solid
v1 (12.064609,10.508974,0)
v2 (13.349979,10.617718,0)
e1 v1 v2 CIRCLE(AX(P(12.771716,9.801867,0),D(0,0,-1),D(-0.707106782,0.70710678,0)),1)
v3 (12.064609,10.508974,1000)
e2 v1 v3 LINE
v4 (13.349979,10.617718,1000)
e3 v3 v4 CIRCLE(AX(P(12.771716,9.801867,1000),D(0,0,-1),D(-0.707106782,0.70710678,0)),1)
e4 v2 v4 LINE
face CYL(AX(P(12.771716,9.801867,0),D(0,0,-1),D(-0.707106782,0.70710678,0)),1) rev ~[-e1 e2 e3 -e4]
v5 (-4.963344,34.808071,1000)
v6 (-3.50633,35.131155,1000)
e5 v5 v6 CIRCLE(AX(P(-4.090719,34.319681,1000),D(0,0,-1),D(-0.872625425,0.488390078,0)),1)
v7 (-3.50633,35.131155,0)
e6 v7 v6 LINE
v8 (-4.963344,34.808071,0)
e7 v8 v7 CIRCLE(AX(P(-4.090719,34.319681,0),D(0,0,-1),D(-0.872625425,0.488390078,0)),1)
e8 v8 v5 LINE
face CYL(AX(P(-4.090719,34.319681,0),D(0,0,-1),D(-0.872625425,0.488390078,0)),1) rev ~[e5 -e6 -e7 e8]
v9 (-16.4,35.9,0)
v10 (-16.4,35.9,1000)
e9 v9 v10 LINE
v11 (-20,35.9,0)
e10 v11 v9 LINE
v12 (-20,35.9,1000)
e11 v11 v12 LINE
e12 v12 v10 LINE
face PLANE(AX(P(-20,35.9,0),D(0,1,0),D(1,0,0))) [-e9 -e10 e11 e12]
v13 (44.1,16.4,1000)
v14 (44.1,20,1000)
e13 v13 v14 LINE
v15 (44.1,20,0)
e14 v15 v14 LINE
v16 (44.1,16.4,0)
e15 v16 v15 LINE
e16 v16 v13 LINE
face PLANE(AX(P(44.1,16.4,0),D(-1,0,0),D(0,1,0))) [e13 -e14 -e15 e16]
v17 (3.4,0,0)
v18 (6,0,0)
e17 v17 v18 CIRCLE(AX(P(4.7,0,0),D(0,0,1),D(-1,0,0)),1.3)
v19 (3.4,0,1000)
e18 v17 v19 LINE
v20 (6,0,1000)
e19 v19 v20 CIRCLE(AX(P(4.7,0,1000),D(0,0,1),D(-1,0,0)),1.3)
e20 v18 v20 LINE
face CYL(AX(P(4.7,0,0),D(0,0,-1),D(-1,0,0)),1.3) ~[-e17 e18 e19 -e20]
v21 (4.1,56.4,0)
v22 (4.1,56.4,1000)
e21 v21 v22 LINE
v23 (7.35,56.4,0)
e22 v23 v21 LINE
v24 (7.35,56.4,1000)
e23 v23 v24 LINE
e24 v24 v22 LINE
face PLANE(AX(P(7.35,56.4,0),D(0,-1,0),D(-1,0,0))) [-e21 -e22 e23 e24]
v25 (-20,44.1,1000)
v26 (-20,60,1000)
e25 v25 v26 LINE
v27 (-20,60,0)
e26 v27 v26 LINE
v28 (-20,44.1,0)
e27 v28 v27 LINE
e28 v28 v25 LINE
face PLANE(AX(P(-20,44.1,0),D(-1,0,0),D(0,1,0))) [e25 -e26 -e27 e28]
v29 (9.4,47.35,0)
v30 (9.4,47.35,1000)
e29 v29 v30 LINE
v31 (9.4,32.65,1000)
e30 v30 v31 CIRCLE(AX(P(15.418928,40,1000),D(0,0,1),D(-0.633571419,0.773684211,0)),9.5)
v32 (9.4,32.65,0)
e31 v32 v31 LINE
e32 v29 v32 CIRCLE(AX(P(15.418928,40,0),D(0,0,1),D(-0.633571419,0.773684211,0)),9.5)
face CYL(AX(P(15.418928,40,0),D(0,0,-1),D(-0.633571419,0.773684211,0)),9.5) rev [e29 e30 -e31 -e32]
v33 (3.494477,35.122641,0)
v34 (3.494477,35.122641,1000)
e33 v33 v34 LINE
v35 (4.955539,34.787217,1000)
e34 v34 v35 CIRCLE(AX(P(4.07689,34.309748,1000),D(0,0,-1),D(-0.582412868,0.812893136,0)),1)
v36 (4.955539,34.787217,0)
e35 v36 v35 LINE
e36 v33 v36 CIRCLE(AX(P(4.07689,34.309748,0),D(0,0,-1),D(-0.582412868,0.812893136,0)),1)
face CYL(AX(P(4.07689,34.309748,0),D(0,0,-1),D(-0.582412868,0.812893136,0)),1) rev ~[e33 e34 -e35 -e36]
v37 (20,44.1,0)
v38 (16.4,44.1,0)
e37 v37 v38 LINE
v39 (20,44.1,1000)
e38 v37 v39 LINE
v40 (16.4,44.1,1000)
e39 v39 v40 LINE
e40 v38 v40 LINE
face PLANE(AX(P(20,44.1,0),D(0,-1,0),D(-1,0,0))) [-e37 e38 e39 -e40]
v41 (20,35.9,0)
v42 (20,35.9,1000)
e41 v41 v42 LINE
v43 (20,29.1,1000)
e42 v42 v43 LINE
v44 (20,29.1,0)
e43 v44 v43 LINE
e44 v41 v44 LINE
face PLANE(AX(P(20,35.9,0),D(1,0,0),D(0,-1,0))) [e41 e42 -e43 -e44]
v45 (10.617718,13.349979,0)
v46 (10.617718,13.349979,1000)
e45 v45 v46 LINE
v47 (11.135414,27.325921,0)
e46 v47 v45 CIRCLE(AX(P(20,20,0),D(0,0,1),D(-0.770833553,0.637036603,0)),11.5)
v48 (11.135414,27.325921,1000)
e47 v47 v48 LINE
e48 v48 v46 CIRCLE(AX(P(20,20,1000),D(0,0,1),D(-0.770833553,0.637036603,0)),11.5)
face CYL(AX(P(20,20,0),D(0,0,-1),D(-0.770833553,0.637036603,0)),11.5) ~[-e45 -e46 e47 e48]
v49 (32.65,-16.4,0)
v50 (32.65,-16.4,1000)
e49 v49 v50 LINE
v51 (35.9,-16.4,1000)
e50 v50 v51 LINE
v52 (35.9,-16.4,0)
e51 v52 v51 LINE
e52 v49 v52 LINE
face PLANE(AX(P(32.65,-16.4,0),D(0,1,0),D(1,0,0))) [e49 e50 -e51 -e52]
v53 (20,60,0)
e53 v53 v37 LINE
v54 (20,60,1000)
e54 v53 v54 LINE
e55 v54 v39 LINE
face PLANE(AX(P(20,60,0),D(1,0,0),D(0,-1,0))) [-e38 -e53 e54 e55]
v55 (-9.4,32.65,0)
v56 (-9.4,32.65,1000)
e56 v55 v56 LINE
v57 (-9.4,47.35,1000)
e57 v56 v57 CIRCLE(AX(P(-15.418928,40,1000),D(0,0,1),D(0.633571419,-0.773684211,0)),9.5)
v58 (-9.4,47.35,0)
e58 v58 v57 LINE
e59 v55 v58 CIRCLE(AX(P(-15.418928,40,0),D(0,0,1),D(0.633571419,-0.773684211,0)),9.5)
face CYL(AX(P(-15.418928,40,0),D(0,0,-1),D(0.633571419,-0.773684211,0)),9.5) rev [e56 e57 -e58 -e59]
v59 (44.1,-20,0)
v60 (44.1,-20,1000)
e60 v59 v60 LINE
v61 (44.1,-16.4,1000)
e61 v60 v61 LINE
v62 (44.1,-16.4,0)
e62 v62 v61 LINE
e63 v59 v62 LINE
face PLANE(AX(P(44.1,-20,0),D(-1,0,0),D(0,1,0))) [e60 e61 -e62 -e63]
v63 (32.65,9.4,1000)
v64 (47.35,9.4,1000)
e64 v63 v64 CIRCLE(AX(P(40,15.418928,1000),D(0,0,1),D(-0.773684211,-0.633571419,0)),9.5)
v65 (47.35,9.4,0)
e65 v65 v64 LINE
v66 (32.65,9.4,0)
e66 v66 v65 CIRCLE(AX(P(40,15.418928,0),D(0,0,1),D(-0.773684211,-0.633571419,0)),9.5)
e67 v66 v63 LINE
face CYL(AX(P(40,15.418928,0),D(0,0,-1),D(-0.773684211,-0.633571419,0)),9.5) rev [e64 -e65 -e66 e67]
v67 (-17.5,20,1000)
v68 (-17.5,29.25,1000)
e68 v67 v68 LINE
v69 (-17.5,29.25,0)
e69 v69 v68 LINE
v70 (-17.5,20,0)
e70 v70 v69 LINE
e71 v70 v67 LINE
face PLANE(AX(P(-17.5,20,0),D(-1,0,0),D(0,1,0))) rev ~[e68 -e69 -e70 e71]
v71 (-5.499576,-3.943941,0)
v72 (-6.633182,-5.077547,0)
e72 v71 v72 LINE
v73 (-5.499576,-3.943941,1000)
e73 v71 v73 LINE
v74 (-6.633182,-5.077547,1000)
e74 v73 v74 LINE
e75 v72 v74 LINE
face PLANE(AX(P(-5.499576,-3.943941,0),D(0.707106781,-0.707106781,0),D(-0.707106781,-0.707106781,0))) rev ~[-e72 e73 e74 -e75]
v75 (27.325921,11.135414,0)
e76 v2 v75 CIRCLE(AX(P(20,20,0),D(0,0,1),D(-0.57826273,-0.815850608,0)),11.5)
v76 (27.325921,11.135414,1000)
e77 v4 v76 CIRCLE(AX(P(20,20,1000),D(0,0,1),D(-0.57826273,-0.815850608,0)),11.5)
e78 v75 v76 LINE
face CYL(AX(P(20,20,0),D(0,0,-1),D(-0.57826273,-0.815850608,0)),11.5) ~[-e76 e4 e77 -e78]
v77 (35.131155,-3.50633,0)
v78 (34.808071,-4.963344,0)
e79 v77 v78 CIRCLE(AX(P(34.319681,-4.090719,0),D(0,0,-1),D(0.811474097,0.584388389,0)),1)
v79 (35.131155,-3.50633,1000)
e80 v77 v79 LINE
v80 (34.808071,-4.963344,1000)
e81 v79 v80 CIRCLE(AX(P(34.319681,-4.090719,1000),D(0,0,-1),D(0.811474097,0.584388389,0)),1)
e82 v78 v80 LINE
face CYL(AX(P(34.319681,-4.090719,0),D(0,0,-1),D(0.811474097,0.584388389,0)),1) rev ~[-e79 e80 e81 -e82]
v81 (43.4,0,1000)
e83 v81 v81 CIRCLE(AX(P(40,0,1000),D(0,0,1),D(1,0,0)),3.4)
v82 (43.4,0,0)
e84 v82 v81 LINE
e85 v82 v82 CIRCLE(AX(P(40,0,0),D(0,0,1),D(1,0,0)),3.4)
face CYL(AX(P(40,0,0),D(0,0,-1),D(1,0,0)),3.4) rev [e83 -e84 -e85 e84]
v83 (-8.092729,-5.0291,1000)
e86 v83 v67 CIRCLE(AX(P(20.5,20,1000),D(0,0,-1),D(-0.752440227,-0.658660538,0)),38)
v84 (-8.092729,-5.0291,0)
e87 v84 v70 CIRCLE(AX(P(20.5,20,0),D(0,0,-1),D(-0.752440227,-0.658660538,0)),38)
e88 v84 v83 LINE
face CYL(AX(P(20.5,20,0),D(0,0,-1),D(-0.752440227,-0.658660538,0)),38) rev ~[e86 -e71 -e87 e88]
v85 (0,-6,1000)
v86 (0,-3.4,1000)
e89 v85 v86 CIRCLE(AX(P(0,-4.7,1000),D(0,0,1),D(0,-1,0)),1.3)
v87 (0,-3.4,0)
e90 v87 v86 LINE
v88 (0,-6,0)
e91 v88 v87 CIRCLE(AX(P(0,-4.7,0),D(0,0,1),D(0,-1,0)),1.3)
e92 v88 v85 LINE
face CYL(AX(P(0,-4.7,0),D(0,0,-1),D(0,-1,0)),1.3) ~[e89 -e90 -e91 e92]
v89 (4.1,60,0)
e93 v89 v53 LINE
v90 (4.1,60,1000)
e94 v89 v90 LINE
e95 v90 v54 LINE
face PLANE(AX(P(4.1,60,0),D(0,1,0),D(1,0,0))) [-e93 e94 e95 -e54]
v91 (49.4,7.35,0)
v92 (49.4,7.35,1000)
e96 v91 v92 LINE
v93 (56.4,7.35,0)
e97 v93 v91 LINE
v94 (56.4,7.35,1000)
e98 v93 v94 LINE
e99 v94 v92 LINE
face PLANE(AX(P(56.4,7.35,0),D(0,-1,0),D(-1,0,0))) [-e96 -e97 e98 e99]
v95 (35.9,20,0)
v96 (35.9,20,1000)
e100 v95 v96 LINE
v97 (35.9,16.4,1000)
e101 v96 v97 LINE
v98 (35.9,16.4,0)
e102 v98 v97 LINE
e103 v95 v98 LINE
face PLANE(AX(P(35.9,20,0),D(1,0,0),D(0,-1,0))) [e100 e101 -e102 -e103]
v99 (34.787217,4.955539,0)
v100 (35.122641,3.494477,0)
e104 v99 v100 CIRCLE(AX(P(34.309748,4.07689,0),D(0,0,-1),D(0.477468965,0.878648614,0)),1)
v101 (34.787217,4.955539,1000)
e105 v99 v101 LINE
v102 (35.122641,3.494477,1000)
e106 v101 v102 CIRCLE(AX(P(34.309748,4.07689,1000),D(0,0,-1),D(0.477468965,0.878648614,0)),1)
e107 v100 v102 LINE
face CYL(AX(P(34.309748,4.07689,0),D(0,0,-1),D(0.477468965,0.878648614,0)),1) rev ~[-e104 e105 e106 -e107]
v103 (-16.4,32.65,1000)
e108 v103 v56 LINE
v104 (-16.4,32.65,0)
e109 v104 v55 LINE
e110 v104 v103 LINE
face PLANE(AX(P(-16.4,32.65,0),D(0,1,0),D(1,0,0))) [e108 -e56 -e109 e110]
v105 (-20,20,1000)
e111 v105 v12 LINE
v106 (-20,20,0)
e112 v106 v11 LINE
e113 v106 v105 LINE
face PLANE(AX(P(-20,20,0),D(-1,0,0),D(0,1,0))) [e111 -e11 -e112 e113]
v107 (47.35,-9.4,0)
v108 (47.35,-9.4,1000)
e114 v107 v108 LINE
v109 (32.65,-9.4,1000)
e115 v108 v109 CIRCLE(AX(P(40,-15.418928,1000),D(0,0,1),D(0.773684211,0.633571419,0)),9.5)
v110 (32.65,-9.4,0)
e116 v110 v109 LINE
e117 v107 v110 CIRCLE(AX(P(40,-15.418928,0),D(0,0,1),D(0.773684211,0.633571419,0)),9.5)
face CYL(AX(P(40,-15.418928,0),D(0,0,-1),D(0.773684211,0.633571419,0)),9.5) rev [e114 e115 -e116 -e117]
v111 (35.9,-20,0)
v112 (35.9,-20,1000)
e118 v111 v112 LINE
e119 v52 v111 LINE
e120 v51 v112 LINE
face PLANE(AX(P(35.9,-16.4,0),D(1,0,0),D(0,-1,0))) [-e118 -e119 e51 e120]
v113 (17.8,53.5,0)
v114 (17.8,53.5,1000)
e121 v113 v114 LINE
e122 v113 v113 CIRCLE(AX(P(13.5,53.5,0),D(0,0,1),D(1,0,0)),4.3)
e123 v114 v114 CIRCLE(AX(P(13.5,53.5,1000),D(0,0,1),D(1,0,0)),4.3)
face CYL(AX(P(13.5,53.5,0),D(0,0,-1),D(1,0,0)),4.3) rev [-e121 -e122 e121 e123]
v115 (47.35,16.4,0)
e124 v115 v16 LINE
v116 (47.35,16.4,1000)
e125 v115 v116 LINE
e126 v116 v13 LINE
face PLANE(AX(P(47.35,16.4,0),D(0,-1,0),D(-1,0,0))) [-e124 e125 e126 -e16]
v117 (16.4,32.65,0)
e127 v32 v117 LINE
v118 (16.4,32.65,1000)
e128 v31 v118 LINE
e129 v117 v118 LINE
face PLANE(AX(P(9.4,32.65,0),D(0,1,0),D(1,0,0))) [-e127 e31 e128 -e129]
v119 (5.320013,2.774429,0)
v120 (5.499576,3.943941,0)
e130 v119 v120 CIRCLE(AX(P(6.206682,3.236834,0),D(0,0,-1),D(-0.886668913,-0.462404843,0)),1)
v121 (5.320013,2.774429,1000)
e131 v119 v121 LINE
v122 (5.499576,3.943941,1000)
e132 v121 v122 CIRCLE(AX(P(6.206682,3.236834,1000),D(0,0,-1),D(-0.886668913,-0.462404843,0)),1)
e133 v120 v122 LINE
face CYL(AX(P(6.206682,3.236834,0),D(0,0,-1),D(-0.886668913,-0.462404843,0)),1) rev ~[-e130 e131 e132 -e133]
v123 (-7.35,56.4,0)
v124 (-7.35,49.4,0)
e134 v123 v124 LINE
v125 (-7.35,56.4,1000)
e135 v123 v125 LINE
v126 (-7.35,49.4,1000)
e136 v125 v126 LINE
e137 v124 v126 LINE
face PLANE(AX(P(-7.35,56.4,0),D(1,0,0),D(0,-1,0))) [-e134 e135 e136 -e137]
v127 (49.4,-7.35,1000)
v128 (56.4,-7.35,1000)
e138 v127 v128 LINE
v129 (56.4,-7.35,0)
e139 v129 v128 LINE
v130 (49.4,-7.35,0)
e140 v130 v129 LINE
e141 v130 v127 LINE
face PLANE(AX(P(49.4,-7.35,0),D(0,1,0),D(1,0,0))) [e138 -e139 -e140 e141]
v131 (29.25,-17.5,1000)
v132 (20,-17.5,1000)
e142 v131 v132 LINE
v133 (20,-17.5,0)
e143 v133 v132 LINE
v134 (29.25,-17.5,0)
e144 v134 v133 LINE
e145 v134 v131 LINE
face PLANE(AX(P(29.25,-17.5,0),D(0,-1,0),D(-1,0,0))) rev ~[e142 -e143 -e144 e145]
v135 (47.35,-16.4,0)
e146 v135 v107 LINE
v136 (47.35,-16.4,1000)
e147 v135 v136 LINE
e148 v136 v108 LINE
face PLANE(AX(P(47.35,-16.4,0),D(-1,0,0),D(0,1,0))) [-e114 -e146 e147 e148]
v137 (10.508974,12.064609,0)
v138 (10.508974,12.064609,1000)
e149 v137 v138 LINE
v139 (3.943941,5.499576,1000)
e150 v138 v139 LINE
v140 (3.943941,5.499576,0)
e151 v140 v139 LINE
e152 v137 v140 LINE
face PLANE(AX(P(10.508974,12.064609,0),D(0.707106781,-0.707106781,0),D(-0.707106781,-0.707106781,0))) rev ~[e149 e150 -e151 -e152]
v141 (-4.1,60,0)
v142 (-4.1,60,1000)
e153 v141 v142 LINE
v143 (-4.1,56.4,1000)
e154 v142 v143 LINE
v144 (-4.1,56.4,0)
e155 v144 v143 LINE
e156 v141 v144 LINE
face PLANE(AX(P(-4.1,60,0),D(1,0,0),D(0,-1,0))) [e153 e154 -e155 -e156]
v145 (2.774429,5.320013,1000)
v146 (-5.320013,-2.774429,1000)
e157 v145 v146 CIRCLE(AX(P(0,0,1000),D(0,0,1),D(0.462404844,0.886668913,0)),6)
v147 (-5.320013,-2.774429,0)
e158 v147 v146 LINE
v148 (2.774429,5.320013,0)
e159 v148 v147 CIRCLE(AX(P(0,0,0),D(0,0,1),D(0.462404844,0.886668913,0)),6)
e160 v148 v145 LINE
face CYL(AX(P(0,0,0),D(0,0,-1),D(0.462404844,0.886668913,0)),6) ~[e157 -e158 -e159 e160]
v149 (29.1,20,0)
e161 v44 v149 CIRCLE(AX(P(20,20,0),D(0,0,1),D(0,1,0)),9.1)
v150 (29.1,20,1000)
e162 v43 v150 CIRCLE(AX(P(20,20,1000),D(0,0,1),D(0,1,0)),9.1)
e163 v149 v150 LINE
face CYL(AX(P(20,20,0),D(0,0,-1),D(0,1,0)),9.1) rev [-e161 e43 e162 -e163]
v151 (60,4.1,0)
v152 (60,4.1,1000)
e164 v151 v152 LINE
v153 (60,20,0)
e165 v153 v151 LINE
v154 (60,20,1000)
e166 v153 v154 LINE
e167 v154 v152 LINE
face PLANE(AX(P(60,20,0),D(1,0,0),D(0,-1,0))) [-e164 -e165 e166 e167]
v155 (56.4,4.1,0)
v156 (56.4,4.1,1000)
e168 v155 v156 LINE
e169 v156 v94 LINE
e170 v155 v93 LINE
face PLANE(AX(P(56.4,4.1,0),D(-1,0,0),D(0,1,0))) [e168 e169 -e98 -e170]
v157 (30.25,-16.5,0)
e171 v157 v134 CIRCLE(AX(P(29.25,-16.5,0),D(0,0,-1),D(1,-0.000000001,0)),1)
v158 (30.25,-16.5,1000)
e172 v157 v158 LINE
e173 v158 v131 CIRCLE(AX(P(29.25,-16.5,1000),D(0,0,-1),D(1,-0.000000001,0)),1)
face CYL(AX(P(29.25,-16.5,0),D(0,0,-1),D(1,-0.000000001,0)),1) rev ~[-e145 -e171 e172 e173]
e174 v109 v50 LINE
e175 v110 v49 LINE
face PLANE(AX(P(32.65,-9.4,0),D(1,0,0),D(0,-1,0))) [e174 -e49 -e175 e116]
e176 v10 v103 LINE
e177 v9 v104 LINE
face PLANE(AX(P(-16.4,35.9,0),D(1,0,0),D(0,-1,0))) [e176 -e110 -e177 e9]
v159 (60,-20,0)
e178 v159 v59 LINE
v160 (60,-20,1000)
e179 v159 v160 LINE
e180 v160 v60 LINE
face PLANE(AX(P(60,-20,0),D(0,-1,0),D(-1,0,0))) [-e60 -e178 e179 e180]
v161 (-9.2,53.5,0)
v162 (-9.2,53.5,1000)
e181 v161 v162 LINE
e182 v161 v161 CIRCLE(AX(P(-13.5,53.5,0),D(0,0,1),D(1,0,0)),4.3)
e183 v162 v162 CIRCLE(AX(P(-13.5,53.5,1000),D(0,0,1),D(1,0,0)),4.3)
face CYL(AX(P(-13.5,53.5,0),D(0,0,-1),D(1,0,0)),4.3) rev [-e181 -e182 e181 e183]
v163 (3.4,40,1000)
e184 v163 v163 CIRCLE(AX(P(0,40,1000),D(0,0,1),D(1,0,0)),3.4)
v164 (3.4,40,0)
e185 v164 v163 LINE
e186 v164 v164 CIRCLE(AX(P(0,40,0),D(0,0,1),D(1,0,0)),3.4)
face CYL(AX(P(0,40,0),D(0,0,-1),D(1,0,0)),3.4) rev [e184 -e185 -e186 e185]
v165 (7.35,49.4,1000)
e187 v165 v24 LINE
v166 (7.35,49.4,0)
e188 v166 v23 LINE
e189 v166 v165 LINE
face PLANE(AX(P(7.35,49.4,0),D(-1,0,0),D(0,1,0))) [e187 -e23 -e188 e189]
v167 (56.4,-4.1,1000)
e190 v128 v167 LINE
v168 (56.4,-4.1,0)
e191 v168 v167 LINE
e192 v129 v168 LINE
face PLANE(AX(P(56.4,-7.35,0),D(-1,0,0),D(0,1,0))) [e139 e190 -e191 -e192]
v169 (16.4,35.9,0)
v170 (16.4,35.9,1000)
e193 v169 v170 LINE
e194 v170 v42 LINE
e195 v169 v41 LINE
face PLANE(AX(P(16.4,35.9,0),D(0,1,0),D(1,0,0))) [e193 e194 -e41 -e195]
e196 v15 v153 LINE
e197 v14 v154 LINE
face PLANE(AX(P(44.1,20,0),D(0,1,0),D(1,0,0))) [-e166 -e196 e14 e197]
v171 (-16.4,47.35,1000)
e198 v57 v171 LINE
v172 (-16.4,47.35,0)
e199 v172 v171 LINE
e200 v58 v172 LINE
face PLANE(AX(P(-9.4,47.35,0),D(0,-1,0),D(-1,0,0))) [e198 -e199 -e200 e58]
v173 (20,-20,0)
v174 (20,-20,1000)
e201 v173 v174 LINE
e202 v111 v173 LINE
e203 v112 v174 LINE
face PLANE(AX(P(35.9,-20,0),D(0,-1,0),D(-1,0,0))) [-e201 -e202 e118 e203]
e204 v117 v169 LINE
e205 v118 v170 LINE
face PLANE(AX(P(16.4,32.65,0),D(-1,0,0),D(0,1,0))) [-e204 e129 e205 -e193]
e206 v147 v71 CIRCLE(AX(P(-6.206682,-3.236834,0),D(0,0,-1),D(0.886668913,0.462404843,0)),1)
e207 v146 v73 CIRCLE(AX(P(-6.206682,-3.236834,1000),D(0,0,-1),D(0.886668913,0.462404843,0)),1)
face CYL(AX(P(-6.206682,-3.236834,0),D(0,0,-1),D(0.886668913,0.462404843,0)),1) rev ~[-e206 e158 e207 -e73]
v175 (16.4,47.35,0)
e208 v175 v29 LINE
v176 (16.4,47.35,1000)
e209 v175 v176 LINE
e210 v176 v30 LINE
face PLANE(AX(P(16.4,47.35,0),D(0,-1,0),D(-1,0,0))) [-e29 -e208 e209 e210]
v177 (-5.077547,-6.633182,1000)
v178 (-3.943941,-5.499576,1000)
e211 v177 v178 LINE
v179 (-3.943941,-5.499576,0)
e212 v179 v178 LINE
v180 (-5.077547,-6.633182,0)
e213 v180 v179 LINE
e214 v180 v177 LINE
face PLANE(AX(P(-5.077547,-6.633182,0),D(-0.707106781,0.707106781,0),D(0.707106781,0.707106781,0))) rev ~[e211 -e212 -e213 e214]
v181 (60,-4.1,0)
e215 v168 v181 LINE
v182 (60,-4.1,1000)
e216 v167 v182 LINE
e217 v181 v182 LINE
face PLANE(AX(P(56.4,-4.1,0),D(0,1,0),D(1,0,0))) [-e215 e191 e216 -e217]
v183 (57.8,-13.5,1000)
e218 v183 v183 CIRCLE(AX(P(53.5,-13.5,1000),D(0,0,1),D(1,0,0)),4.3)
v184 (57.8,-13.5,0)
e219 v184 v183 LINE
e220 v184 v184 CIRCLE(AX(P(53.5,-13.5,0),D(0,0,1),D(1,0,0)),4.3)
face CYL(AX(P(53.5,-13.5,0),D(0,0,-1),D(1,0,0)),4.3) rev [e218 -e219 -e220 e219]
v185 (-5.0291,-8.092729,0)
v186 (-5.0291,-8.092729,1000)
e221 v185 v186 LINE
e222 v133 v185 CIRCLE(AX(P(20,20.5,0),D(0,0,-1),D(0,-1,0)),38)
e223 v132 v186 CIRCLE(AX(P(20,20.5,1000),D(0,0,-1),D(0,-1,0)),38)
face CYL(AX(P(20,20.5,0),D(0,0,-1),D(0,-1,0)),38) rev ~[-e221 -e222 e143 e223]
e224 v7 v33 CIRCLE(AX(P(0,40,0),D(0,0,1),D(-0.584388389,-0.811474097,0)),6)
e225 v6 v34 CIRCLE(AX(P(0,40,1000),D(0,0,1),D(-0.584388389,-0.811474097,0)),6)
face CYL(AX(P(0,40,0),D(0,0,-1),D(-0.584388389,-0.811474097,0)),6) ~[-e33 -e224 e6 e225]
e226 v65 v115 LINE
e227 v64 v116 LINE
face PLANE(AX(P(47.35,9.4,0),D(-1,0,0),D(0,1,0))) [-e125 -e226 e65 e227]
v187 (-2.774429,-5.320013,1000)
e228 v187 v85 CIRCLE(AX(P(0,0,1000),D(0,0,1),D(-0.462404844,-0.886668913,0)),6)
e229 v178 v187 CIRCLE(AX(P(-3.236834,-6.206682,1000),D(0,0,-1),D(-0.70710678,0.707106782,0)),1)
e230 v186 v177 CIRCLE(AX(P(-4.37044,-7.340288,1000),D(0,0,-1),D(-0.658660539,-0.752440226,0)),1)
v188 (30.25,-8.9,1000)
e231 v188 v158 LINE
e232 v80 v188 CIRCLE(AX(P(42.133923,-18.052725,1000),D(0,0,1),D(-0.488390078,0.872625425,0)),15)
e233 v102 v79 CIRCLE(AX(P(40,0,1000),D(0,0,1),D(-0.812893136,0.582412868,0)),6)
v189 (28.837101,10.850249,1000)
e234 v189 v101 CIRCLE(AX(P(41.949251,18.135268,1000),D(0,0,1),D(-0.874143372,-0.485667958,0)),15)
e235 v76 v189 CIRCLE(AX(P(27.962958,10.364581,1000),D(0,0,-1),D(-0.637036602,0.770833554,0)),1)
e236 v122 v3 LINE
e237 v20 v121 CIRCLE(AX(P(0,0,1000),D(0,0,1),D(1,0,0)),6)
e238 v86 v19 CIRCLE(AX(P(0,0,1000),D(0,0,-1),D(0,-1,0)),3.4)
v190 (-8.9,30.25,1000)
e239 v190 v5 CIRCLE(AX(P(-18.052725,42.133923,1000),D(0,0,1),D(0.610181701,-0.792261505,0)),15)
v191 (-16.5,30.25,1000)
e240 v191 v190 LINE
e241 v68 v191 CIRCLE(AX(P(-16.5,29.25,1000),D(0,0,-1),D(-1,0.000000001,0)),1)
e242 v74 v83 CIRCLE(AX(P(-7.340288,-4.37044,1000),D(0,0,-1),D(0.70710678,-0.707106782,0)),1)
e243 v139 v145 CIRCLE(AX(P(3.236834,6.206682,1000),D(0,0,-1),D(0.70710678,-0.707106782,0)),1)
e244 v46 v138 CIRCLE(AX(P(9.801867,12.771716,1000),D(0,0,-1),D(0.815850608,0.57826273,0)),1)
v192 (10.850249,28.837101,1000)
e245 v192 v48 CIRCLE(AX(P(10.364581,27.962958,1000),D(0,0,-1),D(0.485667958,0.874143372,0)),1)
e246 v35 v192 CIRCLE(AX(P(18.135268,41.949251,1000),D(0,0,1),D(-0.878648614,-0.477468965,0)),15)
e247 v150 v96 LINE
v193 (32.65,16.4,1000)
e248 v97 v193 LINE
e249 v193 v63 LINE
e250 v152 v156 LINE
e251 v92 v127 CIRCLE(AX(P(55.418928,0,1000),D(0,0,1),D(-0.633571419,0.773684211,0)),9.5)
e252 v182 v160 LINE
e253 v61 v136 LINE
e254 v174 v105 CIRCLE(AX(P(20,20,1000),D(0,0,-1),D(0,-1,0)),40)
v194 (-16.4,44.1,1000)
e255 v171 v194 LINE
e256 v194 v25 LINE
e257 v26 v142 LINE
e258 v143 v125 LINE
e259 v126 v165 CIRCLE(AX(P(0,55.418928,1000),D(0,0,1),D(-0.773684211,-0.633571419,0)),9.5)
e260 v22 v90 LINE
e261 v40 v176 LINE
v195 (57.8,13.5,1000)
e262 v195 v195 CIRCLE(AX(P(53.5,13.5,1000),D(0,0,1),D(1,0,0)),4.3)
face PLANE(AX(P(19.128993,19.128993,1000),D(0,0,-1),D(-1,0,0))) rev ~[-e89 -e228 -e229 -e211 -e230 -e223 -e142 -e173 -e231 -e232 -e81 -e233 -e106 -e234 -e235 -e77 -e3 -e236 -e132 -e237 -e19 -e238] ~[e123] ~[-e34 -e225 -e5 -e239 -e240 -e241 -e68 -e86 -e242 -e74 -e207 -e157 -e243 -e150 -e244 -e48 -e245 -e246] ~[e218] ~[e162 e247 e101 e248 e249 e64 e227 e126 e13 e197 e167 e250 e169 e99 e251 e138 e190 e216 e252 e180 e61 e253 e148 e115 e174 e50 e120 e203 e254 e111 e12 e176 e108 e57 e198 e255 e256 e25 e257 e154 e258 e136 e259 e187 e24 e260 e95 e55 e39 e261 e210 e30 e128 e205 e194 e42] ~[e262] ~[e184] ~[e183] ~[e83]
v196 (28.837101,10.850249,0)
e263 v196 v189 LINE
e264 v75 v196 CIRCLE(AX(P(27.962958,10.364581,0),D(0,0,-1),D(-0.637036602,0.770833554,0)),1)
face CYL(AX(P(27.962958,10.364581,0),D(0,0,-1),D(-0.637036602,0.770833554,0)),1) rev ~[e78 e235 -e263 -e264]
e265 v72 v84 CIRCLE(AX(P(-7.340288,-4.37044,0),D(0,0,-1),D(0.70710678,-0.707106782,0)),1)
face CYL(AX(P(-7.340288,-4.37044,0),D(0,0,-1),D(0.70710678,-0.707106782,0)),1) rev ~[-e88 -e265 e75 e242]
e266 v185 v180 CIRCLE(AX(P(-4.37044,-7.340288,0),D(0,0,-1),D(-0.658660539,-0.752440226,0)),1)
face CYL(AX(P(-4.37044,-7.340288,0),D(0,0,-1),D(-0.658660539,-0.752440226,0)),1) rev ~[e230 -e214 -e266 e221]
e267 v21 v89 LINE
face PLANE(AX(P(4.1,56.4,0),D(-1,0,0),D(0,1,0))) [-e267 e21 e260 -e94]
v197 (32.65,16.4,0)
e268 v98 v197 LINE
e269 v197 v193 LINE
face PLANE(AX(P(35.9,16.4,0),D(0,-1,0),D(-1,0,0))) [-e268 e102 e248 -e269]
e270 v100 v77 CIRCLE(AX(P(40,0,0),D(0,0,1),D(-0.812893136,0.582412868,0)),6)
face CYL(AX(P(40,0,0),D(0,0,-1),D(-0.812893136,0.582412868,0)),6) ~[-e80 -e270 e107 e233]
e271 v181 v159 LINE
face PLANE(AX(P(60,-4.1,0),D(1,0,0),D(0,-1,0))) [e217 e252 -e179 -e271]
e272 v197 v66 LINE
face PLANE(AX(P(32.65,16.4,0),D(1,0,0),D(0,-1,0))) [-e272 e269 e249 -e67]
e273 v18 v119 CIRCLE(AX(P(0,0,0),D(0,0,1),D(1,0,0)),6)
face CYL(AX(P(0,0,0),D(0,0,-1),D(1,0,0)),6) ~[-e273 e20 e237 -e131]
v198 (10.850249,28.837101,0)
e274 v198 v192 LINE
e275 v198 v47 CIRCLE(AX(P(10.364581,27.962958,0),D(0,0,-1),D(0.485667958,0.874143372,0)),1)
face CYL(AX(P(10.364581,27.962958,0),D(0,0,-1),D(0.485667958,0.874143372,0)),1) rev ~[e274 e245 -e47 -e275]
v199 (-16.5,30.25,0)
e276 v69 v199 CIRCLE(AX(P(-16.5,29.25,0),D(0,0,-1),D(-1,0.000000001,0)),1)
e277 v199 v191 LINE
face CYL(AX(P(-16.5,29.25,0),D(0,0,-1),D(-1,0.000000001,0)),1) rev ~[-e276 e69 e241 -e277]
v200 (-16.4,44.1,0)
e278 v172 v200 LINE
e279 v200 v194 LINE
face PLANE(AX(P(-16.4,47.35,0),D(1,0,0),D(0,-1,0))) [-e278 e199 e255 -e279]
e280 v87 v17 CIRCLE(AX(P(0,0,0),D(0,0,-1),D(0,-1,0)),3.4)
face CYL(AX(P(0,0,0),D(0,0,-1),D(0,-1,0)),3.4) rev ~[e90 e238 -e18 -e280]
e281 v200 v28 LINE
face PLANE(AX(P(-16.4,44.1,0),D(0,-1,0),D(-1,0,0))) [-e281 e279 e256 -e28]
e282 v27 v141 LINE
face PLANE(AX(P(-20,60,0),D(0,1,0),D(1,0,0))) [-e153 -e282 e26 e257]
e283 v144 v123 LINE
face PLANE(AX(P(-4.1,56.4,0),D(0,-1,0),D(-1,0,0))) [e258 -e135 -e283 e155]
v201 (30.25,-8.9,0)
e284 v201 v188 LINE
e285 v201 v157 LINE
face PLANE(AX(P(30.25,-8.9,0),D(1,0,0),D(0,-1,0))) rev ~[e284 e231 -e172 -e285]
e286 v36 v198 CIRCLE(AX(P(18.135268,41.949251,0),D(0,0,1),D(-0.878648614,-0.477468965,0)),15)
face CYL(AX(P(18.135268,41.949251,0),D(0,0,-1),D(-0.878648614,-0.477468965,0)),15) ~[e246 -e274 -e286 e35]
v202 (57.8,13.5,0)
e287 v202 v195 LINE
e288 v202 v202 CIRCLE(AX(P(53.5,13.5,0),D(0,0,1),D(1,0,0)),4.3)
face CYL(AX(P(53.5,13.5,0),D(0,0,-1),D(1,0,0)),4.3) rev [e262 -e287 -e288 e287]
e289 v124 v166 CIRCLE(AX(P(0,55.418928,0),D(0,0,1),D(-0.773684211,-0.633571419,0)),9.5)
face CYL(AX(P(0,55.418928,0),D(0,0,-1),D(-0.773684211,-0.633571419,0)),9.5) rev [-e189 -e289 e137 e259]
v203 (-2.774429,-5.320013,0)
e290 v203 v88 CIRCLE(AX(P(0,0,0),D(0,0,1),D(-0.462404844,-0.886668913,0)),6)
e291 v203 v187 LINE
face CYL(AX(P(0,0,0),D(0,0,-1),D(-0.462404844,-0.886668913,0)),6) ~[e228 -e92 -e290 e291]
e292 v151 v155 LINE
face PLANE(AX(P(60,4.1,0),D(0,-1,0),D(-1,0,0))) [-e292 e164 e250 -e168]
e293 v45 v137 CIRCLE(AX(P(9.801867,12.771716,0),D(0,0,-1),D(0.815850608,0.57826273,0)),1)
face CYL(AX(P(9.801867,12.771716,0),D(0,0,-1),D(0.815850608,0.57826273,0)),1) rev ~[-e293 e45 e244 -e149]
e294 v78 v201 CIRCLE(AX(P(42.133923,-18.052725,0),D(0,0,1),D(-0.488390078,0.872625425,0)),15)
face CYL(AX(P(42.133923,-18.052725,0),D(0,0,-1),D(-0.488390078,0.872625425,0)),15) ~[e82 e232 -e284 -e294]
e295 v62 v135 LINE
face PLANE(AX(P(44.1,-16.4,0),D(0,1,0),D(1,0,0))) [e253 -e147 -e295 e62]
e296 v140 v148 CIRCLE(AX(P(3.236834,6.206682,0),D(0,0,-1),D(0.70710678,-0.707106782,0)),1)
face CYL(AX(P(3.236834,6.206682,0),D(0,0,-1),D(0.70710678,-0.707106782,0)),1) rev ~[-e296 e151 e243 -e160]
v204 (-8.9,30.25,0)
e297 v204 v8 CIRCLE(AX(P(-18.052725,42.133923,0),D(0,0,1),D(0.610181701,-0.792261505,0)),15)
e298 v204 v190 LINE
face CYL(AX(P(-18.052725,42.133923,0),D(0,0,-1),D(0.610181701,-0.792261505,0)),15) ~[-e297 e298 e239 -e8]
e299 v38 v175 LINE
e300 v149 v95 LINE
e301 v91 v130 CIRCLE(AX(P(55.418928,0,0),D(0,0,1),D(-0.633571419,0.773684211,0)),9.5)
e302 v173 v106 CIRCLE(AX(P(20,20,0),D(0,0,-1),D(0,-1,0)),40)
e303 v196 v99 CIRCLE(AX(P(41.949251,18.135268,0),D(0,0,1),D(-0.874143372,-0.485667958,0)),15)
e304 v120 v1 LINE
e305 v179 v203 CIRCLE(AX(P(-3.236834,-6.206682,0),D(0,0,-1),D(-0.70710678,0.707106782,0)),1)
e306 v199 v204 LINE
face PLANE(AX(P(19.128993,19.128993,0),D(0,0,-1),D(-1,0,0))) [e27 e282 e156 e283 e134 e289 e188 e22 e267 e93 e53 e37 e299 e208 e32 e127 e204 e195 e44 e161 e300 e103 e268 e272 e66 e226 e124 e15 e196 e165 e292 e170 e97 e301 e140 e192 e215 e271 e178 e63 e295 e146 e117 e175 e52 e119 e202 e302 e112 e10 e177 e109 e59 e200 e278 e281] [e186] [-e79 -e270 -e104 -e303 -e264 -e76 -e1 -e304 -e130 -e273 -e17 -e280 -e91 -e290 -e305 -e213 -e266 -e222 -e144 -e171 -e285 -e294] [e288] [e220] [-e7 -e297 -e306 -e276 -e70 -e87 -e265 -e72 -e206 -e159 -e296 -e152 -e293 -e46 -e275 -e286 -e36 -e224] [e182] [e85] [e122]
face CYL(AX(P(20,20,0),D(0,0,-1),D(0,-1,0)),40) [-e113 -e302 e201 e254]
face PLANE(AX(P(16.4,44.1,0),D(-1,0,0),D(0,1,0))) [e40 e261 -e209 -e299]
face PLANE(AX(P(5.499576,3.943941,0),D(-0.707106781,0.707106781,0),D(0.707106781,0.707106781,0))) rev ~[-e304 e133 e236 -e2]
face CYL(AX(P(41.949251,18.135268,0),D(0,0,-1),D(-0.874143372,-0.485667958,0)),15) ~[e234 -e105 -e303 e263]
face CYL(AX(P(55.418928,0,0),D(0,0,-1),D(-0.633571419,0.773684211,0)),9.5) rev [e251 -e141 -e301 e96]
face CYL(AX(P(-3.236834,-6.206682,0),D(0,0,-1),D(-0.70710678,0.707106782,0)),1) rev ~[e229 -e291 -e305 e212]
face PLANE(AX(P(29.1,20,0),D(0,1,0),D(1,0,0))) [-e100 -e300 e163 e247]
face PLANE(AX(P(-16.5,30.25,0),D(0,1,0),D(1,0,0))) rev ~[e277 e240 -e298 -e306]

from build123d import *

# Parameters (mm, degrees)
SKETCH_1_R      = 3.4
SKETCH_1_R_2    = 4.3
EXTRUDE_1_DEPTH = 1000


with BuildPart() as part:
    # Эскиз1 → Бобышка-Вытянуть1 (new body)
    with BuildSketch(Plane.XY):
        with BuildLine():
            Line((-20, 47.35), (-20, 60))
            Line((-20, 60), (-7.35, 60))
            Line((-7.35, 60), (-4.1, 60))
            Line((-4.1, 60), (-4.1, 56.4))
            Line((-4.1, 56.4), (-7.35, 56.4))
            Line((-7.35, 56.4), (-7.35, 49.4))
            ThreePointArc((-7.35, 49.4), (0, 45.918928476), (7.35, 49.4))
            Line((7.35, 49.4), (7.35, 56.4))
            Line((7.35, 56.4), (4.1, 56.4))
            Line((4.1, 56.4), (4.1, 60))
            Line((4.1, 60), (7.35, 60))
            Line((7.35, 60), (20, 60))
            Line((20, 60), (20, 47.35))
            Line((20, 47.35), (20, 44.1))
            Line((20, 44.1), (16.4, 44.1))
            Line((16.4, 44.1), (16.4, 47.35))
            Line((16.4, 47.35), (9.4, 47.35))
            ThreePointArc((9.4, 47.35), (5.918928476, 40), (9.4, 32.65))
            Line((9.4, 32.65), (16.4, 32.65))
            Line((16.4, 32.65), (16.4, 35.9))
            Line((16.4, 35.9), (20, 35.9))
            Line((20, 35.9), (20, 32.65))
            Line((20, 32.65), (20, 29.1))
            ThreePointArc((20, 29.1), (13.565328291, 13.565328291), (29.1, 20))
            Line((29.1, 20), (32.65, 20))
            Line((32.65, 20), (35.9, 20))
            Line((35.9, 20), (35.9, 16.4))
            Line((35.9, 16.4), (32.65, 16.4))
            Line((32.65, 16.4), (32.65, 9.4))
            ThreePointArc((32.65, 9.4), (40, 5.918928476), (47.35, 9.4))
            Line((47.35, 9.4), (47.35, 16.4))
            Line((47.35, 16.4), (44.1, 16.4))
            Line((44.1, 16.4), (44.1, 20))
            Line((44.1, 20), (47.35, 20))
            Line((47.35, 20), (60, 20))
            Line((60, 20), (60, 7.35))
            Line((60, 7.35), (60, 4.1))
            Line((60, 4.1), (56.4, 4.1))
            Line((56.4, 4.1), (56.4, 7.35))
            Line((56.4, 7.35), (49.4, 7.35))
            ThreePointArc((49.4, 7.35), (45.918928476, 0), (49.4, -7.35))
            Line((49.4, -7.35), (56.4, -7.35))
            Line((56.4, -7.35), (56.4, -4.1))
            Line((56.4, -4.1), (60, -4.1))
            Line((60, -4.1), (60, -7.35))
            Line((60, -7.35), (60, -20))
            Line((60, -20), (47.35, -20))
            Line((47.35, -20), (44.1, -20))
            Line((44.1, -20), (44.1, -16.4))
            Line((44.1, -16.4), (47.35, -16.4))
            Line((47.35, -16.4), (47.35, -9.4))
            ThreePointArc((47.35, -9.4), (40, -5.918928476), (32.65, -9.4))
            Line((32.65, -9.4), (32.65, -16.4))
            Line((32.65, -16.4), (35.9, -16.4))
            Line((35.9, -16.4), (35.9, -20))
            Line((35.9, -20), (32.65, -20))
            Line((32.65, -20), (20, -20))
            ThreePointArc((20, -20), (-8.284271247, -8.284271247), (-20, 20))
            Line((-20, 20), (-20, 32.65))
            Line((-20, 32.65), (-20, 35.9))
            Line((-20, 35.9), (-16.4, 35.9))
            Line((-16.4, 35.9), (-16.4, 32.65))
            Line((-16.4, 32.65), (-9.4, 32.65))
            ThreePointArc((-9.4, 32.65), (-5.918928476, 40), (-9.4, 47.35))
            Line((-9.4, 47.35), (-16.4, 47.35))
            Line((-16.4, 47.35), (-16.4, 44.1))
            Line((-16.4, 44.1), (-20, 44.1))
            Line((-20, 44.1), (-20, 47.35))
        make_face()
        with Locations((0, 40)):
            Circle(SKETCH_1_R, mode=Mode.SUBTRACT)
        with Locations((-13.5, 53.5)):
            Circle(SKETCH_1_R_2, mode=Mode.SUBTRACT)
        with Locations((13.5, 53.5)):
            Circle(SKETCH_1_R_2, mode=Mode.SUBTRACT)
        with Locations((40, 0)):
            Circle(SKETCH_1_R, mode=Mode.SUBTRACT)
        with Locations((53.5, 13.5)):
            Circle(SKETCH_1_R_2, mode=Mode.SUBTRACT)
        with Locations((53.5, -13.5)):
            Circle(SKETCH_1_R_2, mode=Mode.SUBTRACT)
        with BuildLine():
            Line((-16.5, 30.25), (-8.9, 30.25))
            ThreePointArc((-8.9, 30.25), (-6.700552447, 32.329425303), (-4.963344147, 34.808071396))
            ThreePointArc((-4.963344147, 34.808071396), (-4.307204214, 35.295967153), (-3.506330333, 35.131155415))
            ThreePointArc((-3.506330333, 35.131155415), (-0.007297066, 34.000004437), (3.494477209, 35.122641182))
            ThreePointArc((3.494477209, 35.122641182), (4.300644961, 35.284393495), (4.955538691, 34.787217011))
            ThreePointArc((4.955538691, 34.787217011), (7.479168525, 31.392379507), (10.850248541, 28.837100905))
            ThreePointArc((10.850248541, 28.837100905), (11.347237818, 28.148388812), (11.135414137, 27.32592093))
            ThreePointArc((11.135414137, 27.32592093), (8.507881499, 20.42569046), (10.617718004, 13.349978606))
            ThreePointArc((10.617718004, 13.349978606), (10.798307809, 12.687415803), (10.508974176, 12.064609095))
            Line((10.508974176, 12.064609095), (3.943940688, 5.499575606))
            ThreePointArc((3.943940688, 5.499575606), (3.388591606, 5.218264662), (2.774429063, 5.320013475))
            ThreePointArc((2.774429063, 5.320013475), (-4.242640687, 4.242640687), (-5.320013475, -2.774429063))
            ThreePointArc((-5.320013475, -2.774429063), (-5.218264662, -3.388591606), (-5.499575606, -3.943940688))
            Line((-5.499575606, -3.943940688), (-6.633181618, -5.0775467))
            ThreePointArc((-6.633181618, -5.0775467), (-7.373462786, -5.369889497), (-8.092728627, -5.029100457))
            ThreePointArc((-8.092728627, -5.029100457), (-15.070519309, 6.630700987), (-17.5, 20))
            Line((-17.5, 20), (-17.5, 29.25))
            ThreePointArc((-17.5, 29.25), (-17.207106781, 29.957106781), (-16.5, 30.25))
        make_face(mode=Mode.SUBTRACT)
        with BuildLine():
            Line((29.25, -17.5), (20, -17.5))
            ThreePointArc((20, -17.5), (6.630700987, -15.070519309), (-5.029100457, -8.092728627))
            ThreePointArc((-5.029100457, -8.092728627), (-5.369889497, -7.373462786), (-5.0775467, -6.633181618))
            Line((-5.0775467, -6.633181618), (-3.943940688, -5.499575606))
            ThreePointArc((-3.943940688, -5.499575606), (-3.388591606, -5.218264662), (-2.774429063, -5.320013475))
            ThreePointArc((-2.774429063, -5.320013475), (-1.428271534, -5.827524382), (0, -6))
            ThreePointArc((0, -6), (1.3, -4.7), (0, -3.4))
            ThreePointArc((0, -3.4), (-2.404163056, 2.404163056), (3.4, 0))
            ThreePointArc((3.4, 0), (4.7, -1.3), (6, 0))
            ThreePointArc((6, 0), (5.827524382, 1.428271534), (5.320013475, 2.774429063))
            ThreePointArc((5.320013475, 2.774429063), (5.218264662, 3.388591606), (5.499575606, 3.943940688))
            Line((5.499575606, 3.943940688), (12.064609095, 10.508974176))
            ThreePointArc((12.064609095, 10.508974176), (12.687415803, 10.798307809), (13.349978606, 10.617718004))
            ThreePointArc((13.349978606, 10.617718004), (20.42569046, 8.507881499), (27.32592093, 11.135414137))
            ThreePointArc((27.32592093, 11.135414137), (28.148388812, 11.347237818), (28.837100905, 10.850248541))
            ThreePointArc((28.837100905, 10.850248541), (31.392379507, 7.479168525), (34.787217011, 4.955538691))
            ThreePointArc((34.787217011, 4.955538691), (35.284393495, 4.300644961), (35.122641182, 3.494477209))
            ThreePointArc((35.122641182, 3.494477209), (34.000004437, -0.007297066), (35.131155415, -3.506330333))
            ThreePointArc((35.131155415, -3.506330333), (35.295967153, -4.307204214), (34.808071396, -4.963344147))
            ThreePointArc((34.808071396, -4.963344147), (32.329425303, -6.700552447), (30.25, -8.9))
            Line((30.25, -8.9), (30.25, -16.5))
            ThreePointArc((30.25, -16.5), (29.957106781, -17.207106781), (29.25, -17.5))
        make_face(mode=Mode.SUBTRACT)
    extrude(amount=EXTRUDE_1_DEPTH)


solid = part.part
